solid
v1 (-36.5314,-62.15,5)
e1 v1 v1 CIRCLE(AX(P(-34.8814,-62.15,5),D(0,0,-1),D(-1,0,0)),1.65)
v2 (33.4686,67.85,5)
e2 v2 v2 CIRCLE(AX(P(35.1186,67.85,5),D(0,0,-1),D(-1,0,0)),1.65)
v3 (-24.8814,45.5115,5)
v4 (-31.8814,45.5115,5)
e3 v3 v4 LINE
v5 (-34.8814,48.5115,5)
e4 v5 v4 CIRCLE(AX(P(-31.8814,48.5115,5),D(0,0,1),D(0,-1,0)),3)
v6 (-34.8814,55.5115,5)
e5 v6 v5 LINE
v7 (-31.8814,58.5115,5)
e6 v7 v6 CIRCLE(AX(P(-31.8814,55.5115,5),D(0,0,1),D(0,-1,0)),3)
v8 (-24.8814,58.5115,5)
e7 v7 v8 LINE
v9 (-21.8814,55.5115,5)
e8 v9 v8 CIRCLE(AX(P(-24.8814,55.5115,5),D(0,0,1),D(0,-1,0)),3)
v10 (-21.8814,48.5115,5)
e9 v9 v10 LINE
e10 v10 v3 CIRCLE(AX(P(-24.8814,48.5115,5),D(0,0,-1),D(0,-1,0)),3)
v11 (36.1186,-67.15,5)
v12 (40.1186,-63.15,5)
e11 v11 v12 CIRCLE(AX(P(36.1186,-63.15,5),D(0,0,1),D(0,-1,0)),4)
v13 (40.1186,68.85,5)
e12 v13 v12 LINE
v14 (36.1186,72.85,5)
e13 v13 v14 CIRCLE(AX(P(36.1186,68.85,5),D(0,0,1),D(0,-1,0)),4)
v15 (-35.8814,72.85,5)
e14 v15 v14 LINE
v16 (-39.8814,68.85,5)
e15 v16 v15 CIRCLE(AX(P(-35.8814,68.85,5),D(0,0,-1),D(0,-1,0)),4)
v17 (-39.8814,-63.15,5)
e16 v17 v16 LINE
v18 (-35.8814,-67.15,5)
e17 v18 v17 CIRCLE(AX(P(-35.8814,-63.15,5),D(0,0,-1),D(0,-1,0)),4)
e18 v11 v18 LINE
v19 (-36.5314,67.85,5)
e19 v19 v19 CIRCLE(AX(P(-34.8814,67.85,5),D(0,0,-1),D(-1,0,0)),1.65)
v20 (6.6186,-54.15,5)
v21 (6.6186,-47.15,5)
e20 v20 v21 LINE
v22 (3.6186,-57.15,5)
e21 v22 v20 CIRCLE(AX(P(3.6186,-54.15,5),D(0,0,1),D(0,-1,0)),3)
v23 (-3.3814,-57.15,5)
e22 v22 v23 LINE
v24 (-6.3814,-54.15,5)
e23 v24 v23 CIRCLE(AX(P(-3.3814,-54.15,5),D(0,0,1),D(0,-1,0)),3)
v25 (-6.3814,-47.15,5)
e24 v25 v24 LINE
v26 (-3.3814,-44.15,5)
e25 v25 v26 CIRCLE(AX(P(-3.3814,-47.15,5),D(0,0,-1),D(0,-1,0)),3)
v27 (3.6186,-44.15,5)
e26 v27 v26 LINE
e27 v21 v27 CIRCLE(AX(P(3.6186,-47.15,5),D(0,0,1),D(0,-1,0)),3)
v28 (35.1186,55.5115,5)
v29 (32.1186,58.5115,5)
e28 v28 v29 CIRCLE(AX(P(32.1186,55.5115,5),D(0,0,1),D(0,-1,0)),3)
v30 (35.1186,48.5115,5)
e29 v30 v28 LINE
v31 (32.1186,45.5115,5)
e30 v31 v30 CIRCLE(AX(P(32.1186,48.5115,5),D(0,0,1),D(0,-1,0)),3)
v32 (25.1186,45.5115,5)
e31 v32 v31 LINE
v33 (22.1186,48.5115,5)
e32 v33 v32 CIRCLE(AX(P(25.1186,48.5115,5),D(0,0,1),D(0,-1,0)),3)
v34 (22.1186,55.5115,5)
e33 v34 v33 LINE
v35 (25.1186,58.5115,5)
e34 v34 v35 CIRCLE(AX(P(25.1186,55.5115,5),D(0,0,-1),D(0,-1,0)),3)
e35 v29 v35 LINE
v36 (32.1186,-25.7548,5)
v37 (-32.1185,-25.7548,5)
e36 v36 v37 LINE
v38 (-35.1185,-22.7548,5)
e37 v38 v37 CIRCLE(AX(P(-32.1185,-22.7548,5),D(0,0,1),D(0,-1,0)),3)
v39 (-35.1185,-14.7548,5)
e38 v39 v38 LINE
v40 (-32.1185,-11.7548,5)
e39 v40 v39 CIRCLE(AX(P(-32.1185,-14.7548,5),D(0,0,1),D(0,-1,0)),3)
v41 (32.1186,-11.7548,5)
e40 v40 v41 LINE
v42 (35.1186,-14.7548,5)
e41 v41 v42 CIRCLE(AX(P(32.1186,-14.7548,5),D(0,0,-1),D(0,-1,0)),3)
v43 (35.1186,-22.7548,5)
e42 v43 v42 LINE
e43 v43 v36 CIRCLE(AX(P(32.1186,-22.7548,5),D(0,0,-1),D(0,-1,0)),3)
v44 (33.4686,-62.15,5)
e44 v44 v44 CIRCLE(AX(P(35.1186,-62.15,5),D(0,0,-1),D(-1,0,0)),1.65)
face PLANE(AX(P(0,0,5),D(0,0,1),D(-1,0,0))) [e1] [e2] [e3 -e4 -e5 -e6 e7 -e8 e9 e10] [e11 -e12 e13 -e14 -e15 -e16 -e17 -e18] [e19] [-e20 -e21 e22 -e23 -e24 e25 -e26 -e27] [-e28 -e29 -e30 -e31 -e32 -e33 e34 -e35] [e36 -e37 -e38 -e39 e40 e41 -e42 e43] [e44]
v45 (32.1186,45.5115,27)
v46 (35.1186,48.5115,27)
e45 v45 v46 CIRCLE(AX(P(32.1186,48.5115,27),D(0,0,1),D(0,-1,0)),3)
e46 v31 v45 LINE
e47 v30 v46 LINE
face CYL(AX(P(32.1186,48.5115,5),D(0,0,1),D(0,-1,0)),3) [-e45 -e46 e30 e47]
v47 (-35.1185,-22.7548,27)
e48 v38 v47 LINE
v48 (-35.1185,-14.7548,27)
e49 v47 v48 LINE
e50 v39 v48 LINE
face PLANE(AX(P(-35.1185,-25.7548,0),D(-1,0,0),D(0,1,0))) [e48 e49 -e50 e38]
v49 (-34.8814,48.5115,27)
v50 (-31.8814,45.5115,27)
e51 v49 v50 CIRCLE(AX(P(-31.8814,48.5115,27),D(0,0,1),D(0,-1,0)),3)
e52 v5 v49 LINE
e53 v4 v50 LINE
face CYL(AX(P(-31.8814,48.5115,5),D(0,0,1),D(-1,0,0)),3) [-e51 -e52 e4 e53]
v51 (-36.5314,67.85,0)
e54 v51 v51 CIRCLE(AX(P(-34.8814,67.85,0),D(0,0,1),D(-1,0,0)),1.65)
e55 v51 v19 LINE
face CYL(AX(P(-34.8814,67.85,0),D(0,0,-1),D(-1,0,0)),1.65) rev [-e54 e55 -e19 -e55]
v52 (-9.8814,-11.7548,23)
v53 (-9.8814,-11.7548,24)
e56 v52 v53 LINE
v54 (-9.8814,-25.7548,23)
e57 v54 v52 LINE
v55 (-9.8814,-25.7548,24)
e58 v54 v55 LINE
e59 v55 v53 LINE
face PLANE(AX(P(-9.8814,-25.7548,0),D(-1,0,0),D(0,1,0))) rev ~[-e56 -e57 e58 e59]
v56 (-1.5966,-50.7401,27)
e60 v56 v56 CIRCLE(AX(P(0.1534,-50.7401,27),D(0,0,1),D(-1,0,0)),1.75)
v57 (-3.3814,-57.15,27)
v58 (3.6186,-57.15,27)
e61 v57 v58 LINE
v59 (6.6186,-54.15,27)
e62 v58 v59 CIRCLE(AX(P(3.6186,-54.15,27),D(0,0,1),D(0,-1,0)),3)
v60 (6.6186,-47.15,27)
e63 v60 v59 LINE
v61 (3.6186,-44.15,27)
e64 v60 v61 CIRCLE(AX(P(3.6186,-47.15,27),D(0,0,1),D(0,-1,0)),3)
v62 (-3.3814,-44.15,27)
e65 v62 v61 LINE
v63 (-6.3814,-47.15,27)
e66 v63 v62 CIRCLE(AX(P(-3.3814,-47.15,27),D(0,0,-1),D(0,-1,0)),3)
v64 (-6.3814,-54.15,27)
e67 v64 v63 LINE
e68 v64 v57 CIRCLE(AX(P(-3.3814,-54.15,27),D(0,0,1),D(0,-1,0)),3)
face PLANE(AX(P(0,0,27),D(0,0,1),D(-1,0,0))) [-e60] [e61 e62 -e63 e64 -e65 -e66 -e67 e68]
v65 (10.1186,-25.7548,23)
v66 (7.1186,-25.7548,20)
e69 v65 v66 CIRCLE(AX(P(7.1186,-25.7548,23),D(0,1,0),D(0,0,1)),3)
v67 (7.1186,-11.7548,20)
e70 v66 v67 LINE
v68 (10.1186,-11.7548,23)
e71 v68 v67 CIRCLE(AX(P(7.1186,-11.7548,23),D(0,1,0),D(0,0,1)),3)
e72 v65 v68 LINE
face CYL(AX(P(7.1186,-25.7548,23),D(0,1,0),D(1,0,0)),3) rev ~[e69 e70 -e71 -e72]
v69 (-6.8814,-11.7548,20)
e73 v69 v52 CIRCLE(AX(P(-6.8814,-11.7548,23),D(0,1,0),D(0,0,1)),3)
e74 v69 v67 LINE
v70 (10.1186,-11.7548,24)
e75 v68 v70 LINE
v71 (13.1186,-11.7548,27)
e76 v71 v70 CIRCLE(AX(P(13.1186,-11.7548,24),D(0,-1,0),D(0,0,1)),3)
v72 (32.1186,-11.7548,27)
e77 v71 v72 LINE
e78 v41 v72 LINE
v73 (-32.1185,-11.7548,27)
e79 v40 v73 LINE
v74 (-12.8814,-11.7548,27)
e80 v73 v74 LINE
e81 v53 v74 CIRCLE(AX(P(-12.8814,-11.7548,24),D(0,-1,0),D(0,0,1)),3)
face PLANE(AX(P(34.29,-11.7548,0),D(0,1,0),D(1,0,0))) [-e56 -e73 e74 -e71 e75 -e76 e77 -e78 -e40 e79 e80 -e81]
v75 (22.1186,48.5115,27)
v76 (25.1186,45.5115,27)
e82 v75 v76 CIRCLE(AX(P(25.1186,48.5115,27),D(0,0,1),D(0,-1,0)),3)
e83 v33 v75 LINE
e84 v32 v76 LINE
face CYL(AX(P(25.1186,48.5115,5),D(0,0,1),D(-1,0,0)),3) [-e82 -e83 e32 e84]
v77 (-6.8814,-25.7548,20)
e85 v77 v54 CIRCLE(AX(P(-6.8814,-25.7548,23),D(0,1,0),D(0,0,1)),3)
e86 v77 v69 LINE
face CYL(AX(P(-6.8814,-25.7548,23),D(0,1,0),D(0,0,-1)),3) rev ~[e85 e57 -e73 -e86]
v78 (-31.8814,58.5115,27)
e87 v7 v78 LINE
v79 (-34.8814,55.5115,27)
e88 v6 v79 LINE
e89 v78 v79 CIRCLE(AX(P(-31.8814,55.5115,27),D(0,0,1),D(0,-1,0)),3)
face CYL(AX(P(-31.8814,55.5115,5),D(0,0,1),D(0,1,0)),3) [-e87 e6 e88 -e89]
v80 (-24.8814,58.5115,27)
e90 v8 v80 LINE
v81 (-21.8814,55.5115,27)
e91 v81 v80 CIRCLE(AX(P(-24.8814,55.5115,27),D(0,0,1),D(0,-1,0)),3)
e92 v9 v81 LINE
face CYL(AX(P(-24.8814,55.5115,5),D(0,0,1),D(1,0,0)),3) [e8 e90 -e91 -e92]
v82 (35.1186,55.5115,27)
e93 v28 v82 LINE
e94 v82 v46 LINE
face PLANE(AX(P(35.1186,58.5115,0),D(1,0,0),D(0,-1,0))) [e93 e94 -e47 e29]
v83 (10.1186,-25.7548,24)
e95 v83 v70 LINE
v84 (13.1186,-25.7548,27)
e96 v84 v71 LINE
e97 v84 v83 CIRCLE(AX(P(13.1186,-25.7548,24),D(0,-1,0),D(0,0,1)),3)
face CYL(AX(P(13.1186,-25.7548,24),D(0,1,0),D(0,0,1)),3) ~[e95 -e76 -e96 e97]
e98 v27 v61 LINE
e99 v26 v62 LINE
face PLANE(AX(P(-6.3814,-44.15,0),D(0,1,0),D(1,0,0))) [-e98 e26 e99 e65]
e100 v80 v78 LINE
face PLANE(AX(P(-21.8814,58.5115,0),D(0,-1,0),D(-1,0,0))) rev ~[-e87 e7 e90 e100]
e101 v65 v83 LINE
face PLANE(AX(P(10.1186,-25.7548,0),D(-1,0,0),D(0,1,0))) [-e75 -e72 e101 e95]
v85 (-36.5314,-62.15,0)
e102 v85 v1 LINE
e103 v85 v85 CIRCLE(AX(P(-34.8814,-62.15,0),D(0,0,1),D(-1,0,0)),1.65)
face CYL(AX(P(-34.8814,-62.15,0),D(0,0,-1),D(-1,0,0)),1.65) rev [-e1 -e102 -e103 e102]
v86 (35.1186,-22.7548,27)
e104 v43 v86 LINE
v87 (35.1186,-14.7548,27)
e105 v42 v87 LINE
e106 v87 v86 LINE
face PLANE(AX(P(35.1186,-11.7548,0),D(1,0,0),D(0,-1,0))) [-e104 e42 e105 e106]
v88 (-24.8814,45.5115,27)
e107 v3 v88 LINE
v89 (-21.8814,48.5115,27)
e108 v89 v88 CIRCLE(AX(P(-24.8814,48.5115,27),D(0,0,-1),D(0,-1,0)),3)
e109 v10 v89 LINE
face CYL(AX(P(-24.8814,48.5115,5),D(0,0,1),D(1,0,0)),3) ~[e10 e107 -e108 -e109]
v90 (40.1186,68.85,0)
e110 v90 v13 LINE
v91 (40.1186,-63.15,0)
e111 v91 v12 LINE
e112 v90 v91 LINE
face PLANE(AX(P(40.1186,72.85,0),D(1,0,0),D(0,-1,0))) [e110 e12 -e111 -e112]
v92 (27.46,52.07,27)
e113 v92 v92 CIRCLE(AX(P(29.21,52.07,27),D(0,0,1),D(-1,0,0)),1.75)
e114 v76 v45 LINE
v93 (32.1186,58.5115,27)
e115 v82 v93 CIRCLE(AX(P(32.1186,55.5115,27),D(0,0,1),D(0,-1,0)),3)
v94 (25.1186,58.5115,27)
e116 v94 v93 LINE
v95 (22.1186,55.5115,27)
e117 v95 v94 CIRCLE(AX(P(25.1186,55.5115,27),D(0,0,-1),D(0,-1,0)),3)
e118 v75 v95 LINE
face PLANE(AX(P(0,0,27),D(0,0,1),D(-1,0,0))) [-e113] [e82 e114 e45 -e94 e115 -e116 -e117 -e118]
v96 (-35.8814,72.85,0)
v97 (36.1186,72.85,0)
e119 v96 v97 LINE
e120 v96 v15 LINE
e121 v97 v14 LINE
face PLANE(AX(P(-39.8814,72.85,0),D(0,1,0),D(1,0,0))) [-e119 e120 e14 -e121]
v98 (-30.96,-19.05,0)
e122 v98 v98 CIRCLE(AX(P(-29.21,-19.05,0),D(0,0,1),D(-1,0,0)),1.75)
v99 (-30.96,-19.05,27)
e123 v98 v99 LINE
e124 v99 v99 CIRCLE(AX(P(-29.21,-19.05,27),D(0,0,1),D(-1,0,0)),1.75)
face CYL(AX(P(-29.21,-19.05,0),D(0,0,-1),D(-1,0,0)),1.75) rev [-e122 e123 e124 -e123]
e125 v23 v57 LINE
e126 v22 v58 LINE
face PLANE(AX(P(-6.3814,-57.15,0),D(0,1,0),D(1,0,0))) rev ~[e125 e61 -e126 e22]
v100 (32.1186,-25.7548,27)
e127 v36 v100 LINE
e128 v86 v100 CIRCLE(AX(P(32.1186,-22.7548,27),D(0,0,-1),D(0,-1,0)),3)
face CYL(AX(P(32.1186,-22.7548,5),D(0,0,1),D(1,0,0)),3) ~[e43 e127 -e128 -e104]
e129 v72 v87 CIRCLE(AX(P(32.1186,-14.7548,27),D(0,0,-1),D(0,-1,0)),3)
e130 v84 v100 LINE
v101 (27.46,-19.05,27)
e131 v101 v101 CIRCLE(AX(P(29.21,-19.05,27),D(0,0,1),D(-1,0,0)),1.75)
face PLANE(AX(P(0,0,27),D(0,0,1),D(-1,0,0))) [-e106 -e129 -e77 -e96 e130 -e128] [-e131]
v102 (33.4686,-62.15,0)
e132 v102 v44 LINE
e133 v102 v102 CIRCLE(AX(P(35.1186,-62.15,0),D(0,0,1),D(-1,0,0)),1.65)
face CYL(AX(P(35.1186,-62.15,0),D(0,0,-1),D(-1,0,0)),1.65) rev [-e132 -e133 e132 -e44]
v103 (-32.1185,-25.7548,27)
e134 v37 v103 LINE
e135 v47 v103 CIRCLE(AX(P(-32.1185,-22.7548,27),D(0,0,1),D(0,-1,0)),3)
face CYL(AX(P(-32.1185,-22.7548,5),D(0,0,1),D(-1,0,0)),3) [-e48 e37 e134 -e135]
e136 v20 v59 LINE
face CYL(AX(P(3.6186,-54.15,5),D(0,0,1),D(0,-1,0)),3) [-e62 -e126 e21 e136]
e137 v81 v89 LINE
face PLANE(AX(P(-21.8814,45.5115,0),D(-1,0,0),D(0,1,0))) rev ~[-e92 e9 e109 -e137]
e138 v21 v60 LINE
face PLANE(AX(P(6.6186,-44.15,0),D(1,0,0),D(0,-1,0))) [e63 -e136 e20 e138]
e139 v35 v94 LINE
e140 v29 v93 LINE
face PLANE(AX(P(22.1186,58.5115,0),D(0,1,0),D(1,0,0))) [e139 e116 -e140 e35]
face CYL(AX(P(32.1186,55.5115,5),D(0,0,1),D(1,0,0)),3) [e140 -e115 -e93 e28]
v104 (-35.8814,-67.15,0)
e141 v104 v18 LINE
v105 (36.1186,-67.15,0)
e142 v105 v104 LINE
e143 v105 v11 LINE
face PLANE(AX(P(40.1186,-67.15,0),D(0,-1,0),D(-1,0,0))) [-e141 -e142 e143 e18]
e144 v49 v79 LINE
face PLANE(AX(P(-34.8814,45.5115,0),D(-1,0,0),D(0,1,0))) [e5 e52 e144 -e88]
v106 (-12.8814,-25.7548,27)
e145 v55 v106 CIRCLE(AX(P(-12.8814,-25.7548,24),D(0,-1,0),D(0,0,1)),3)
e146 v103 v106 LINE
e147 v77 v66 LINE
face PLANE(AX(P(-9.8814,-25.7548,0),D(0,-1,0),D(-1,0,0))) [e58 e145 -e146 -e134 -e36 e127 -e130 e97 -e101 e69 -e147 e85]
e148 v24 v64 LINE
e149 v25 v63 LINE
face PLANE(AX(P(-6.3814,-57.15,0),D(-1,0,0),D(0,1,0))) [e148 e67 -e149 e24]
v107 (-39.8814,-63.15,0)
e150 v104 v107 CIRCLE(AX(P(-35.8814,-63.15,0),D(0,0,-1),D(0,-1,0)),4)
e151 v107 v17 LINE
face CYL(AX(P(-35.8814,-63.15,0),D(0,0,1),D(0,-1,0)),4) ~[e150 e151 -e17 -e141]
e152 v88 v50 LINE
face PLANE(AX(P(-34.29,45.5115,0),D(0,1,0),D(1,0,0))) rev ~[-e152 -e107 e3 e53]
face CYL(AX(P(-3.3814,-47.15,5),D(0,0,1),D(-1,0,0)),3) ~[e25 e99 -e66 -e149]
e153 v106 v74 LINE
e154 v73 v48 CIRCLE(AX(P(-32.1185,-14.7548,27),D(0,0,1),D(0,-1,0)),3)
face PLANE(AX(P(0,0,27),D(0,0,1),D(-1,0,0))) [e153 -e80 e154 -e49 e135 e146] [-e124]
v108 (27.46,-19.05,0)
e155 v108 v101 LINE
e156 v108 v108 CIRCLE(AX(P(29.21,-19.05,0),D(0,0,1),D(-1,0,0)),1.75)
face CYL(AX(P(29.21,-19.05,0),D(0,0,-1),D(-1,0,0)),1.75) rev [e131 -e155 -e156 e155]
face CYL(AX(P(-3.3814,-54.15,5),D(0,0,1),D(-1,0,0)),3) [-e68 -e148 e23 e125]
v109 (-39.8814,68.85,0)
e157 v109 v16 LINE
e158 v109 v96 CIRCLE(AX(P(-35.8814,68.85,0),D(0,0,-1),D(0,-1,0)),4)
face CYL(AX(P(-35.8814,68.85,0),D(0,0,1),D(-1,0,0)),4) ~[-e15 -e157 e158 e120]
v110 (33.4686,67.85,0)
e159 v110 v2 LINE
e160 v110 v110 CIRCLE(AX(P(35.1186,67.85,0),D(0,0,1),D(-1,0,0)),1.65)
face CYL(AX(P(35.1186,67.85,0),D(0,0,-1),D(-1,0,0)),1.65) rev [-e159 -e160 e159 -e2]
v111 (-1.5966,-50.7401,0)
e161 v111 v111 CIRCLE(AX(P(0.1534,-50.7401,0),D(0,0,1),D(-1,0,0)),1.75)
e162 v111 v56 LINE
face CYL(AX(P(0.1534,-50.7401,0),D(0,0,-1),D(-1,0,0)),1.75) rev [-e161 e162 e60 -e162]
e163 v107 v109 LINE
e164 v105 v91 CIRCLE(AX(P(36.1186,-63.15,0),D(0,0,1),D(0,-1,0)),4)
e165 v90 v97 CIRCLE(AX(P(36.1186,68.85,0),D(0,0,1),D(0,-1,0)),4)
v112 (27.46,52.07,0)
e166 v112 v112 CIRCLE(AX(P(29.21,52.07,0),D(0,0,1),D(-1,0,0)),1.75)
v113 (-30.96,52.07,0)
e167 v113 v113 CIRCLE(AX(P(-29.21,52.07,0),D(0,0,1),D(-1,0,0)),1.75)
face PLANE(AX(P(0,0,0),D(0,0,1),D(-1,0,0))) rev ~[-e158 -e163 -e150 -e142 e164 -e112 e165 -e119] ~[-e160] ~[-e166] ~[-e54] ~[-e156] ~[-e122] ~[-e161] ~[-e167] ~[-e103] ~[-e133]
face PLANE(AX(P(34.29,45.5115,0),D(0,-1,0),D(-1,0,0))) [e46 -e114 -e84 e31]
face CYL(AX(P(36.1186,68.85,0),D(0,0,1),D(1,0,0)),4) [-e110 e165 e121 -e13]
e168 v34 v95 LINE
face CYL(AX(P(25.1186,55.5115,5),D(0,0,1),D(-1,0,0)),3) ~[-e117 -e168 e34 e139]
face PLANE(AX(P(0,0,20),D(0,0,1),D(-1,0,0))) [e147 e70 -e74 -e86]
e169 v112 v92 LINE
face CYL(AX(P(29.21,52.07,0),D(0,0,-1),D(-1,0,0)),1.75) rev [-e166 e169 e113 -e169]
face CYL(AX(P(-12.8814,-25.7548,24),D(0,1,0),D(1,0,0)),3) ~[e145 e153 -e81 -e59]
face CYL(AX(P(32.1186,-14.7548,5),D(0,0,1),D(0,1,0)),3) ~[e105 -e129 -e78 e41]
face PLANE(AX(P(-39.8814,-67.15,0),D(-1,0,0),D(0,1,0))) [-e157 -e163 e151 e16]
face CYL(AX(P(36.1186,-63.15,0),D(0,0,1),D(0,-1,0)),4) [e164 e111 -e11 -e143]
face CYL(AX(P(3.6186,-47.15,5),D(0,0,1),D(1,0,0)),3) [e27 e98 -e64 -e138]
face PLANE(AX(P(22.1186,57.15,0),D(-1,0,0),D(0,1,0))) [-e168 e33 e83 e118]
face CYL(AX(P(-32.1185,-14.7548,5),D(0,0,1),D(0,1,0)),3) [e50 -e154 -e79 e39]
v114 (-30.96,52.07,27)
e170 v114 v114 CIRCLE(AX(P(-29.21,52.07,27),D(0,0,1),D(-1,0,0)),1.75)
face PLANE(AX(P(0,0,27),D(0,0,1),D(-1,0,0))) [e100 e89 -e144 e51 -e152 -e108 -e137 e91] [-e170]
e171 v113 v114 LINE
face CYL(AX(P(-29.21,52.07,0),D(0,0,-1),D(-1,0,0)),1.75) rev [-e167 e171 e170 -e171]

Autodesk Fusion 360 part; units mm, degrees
sketch "Sketch2" plane through (0, 0, 0) normal (0, 0, 1) x (-1, 0, 0)
  line L0 (29.6528, -57.1307) -> (30.0921, -57.0728)
  line L1 (30.0921, -57.0728) -> (30.5248, -56.9769)
  line L2 (30.5248, -56.9769) -> (30.9475, -56.8436)
  line L3 (30.9475, -56.8436) -> (31.3569, -56.674)
  line L4 (31.3569, -56.674) -> (31.75, -56.4694)
  line L5 (31.75, -56.4694) -> (32.1238, -56.2313)
  line L6 (32.1238, -56.2313) -> (32.4754, -55.9615)
  line L7 (32.4754, -55.9615) -> (32.8021, -55.6621)
  line L8 (32.8021, -55.6621) -> (33.1015, -55.3354)
  line L9 (33.1015, -55.3354) -> (33.3713, -54.9838)
  line L10 (33.3713, -54.9838) -> (33.6094, -54.61)
  line L11 (33.6094, -54.61) -> (33.814, -54.2169)
  line L12 (33.814, -54.2169) -> (33.9836, -53.8075)
  line L13 (33.9836, -53.8075) -> (34.1169, -53.3848)
  line L14 (34.1169, -53.3848) -> (34.2128, -52.9521)
  line L15 (34.2128, -52.9521) -> (34.2707, -52.5128)
  line L16 (34.2707, -52.5128) -> (34.29, -52.07)
  line L17 (34.29, -52.07) -> (34.29, 52.07)
  line L18 (34.29, 52.07) -> (34.2707, 52.5128)
  line L19 (34.2707, 52.5128) -> (34.2128, 52.9521)
  line L20 (34.2128, 52.9521) -> (34.1169, 53.3848)
  line L21 (34.1169, 53.3848) -> (33.9836, 53.8075)
  line L22 (33.9836, 53.8075) -> (33.814, 54.2169)
  line L23 (33.814, 54.2169) -> (33.6094, 54.61)
  line L24 (33.6094, 54.61) -> (33.3713, 54.9838)
  line L25 (33.3713, 54.9838) -> (33.1015, 55.3354)
  line L26 (33.1015, 55.3354) -> (32.8021, 55.6621)
  line L27 (32.8021, 55.6621) -> (32.4754, 55.9615)
  line L28 (32.4754, 55.9615) -> (32.1238, 56.2313)
  line L29 (32.1238, 56.2313) -> (31.75, 56.4694)
  line L30 (31.75, 56.4694) -> (31.3569, 56.674)
  line L31 (31.3569, 56.674) -> (30.9475, 56.8436)
  line L32 (30.9475, 56.8436) -> (30.5248, 56.9769)
  line L33 (30.5248, 56.9769) -> (30.0921, 57.0728)
  line L34 (30.0921, 57.0728) -> (29.6528, 57.1307)
  line L35 (29.6528, 57.1307) -> (29.21, 57.15)
  line L36 (29.21, 57.15) -> (-29.21, 57.15)
  line L37 (-29.21, 57.15) -> (-29.6528, 57.1307)
  line L38 (-29.6528, 57.1307) -> (-30.0921, 57.0728)
  line L39 (-30.0921, 57.0728) -> (-30.5248, 56.9769)
  line L40 (-30.5248, 56.9769) -> (-30.9475, 56.8436)
  line L41 (-30.9475, 56.8436) -> (-31.3569, 56.674)
  line L42 (-31.3569, 56.674) -> (-31.75, 56.4694)
  line L43 (-31.75, 56.4694) -> (-32.1238, 56.2313)
  line L44 (-32.1238, 56.2313) -> (-32.4754, 55.9615)
  line L45 (-32.4754, 55.9615) -> (-32.8021, 55.6621)
  line L46 (-32.8021, 55.6621) -> (-33.1015, 55.3354)
  line L47 (-33.1015, 55.3354) -> (-33.3713, 54.9838)
  line L48 (-33.3713, 54.9838) -> (-33.6094, 54.61)
  line L49 (-33.6094, 54.61) -> (-33.814, 54.2169)
  line L50 (-33.814, 54.2169) -> (-33.9836, 53.8075)
  line L51 (-33.9836, 53.8075) -> (-34.1169, 53.3848)
  line L52 (-34.1169, 53.3848) -> (-34.2128, 52.9521)
  line L53 (-34.2128, 52.9521) -> (-34.2707, 52.5128)
  line L54 (-34.2707, 52.5128) -> (-34.29, 52.07)
  line L55 (-34.29, 52.07) -> (-34.29, -52.07)
  line L56 (-34.29, -52.07) -> (-34.2707, -52.5128)
  line L57 (-34.2707, -52.5128) -> (-34.2128, -52.9521)
  line L58 (-34.2128, -52.9521) -> (-34.1169, -53.3848)
  line L59 (-34.1169, -53.3848) -> (-33.9836, -53.8075)
  line L60 (-33.9836, -53.8075) -> (-33.814, -54.2169)
  line L61 (-33.814, -54.2169) -> (-33.6094, -54.61)
  line L62 (-33.6094, -54.61) -> (-33.3713, -54.9838)
  line L63 (-33.3713, -54.9838) -> (-33.1015, -55.3354)
  line L64 (-33.1015, -55.3354) -> (-32.8021, -55.6621)
  line L65 (-32.8021, -55.6621) -> (-32.4754, -55.9615)
  line L66 (-32.4754, -55.9615) -> (-32.1238, -56.2313)
  line L67 (-32.1238, -56.2313) -> (-31.75, -56.4694)
  line L68 (-31.75, -56.4694) -> (-31.3569, -56.674)
  line L69 (-31.3569, -56.674) -> (-30.9475, -56.8436)
  line L70 (-30.9475, -56.8436) -> (-30.5248, -56.9769)
  line L71 (-30.5248, -56.9769) -> (-30.0921, -57.0728)
  line L72 (-30.0921, -57.0728) -> (-29.6528, -57.1307)
  line L73 (-29.6528, -57.1307) -> (-29.21, -57.15)
  line L74 (-29.21, -57.15) -> (29.21, -57.15)
  line L75 (29.21, -57.15) -> (29.6528, -57.1307)
  circle A0 centre (26.67, 50.025) radius 0.7
  circle A1 centre (20.32, 50.025) radius 0.7
  circle A2 centre (26.67, 33.795) radius 0.7
  circle A3 centre (20.32, 33.795) radius 0.7
  circle A4 centre (13.97, 50.025) radius 0.7
  circle A5 centre (13.97, 33.795) radius 0.7
  circle A6 centre (5.13, 26.87) radius 1.15
  circle A7 centre (29.21, 19.05) radius 1.75
  circle A8 centre (5.13, 22.17) radius 1.15
  circle A9 centre (5.13, 17.47) radius 1.15
  circle A10 centre (-0.1534, 50.7401) radius 1.75
  circle A11 centre (-14.15, 50.025) radius 0.7
  circle A12 centre (-0.17, 26.87) radius 1.15
  circle A13 centre (-5.47, 26.87) radius 1.15
  circle A14 centre (-14.15, 33.795) radius 0.7
  circle A15 centre (-20.5, 50.025) radius 0.7
  circle A16 centre (-26.85, 50.025) radius 0.7
  circle A17 centre (-20.5, 33.795) radius 0.7
  circle A18 centre (-26.85, 33.795) radius 0.7
  circle A19 centre (-0.17, 22.17) radius 1.15
  circle A20 centre (-5.47, 22.17) radius 1.15
  circle A21 centre (-0.17, 17.47) radius 1.15
  circle A22 centre (-5.47, 17.47) radius 1.15
  circle A23 centre (-0.17, 3.81) radius 0.45
  circle A24 centre (-0.17, 1.27) radius 0.45
  circle A25 centre (-29.21, 19.05) radius 1.75
  circle A26 centre (31.724, -24.1849) radius 0.45
  circle A27 centre (29.184, -24.1849) radius 0.45
  circle A28 centre (26.67, -36.505) radius 0.55
  circle A29 centre (24.13, -36.505) radius 0.55
  circle A30 centre (21.59, -36.505) radius 0.55
  circle A31 centre (29.21, -52.07) radius 1.75
  circle A32 centre (21.59, -44.45) radius 0.5
  circle A33 centre (19.05, -44.45) radius 0.5
  circle A34 centre (11.43, -44.45) radius 0.5
  circle A35 centre (8.89, -44.45) radius 0.5
  circle A36 centre (-13.105, -19.09) radius 0.4
  circle A37 centre (-17.985, -19.09) radius 0.4
  circle A38 centre (-0.205, -41.91) radius 0.5
  circle A39 centre (-2.745, -41.91) radius 0.5
  circle A40 centre (-5.285, -41.91) radius 0.5
  circle A41 centre (-29.21, -52.07) radius 1.75
  circle A42 centre (29.21, 19.05) radius 1.75
  circle A43 centre (-0.1534, 50.7401) radius 1.75
  circle A44 centre (-29.21, 19.05) radius 1.75
  circle A45 centre (29.21, -52.07) radius 1.75
  circle A46 centre (-29.21, -52.07) radius 1.75
  line L76 (-40.1186, 67.15) -> (39.8814, 67.15)
  line L77 (39.8814, 67.15) -> (39.8814, -72.85)
  line L78 (39.8814, -72.85) -> (-40.1186, -72.85)
  line L79 (-40.1186, -72.85) -> (-40.1186, 67.15)
  line L80 (-35.1186, -67.85) -> (-35.1186, 62.15)
  line L81 (-35.1186, 62.15) -> (34.8814, 62.15)
  line L82 (34.8814, 62.15) -> (34.8814, -67.85)
  line L83 (34.8814, -67.85) -> (-35.1186, -67.85)
  circle A47 centre (-35.1186, 62.15) radius 1.65
  circle A48 centre (34.8814, 62.15) radius 1.65
  circle A49 centre (34.8814, -67.85) radius 1.65
  circle A50 centre (-35.1186, -67.85) radius 1.65
  line L84 (-35.1186, 25.7548) -> (35.1185, 25.7548)
  line L85 (35.1185, 25.7548) -> (35.1185, 11.7548)
  line L86 (35.1185, 11.7548) -> (-35.1186, 11.7548)
  line L87 (-35.1186, 11.7548) -> (-35.1186, 25.7548)
  line L88 (-0.1186, 67.15) -> (-0.1186, -72.85) construction
  line L89 (-10.1186, 25.7548) -> (-10.1186, 11.7548)
  line L90 (9.8814, 25.7548) -> (9.8814, 11.7548)
  line L91 (-35.1186, -45.5115) -> (-22.1186, -45.5115)
  line L92 (-22.1186, -45.5115) -> (-22.1186, -58.5115)
  line L93 (-22.1186, -58.5115) -> (-35.1186, -58.5115)
  line L94 (-35.1186, -58.5115) -> (-35.1186, -45.5115)
  line L95 (21.8814, -45.5115) -> (21.8814, -58.5115)
  line L96 (34.8814, -45.5115) -> (21.8814, -45.5115)
  line L97 (21.8814, -58.5115) -> (34.8814, -58.5115)
  line L98 (-6.6186, 57.15) -> (6.3814, 57.15)
  line L99 (6.3814, 57.15) -> (6.3814, 44.15)
  line L100 (6.3814, 44.15) -> (-6.6186, 44.15)
  line L101 (-6.6186, 44.15) -> (-6.6186, 57.15)
  dimension "d1" = 80
  dimension "d2" = 140
  dimension "d4" = 5
  dimension "d6" = 3.3
  dimension "d7" = 3.3
  dimension "d8" = 3.3
  dimension "d9" = 3.3
  dimension "d11" = 14
  dimension "d12" = 10
  dimension "d13" = 13
  dimension "d14" = 13
  dimension "d15" = 13
  dimension "d16" = 13
  dimension "d35" = 10
extrude "Extrude1" add sketch "Sketch2" along normal blind 5 contours L0 L1 L2 L3 L4 L5 L6 L7 L8 L9 L10 L11 L12 L13 L14 L15 L16 L17 L74 L75 L95 L96 | L0 L1 L2 L3 L4 L5 L6 L7 L8 L9 L10 L11 L12 L13 L14 L15 L16 L17 L74 L75 L82 L95 L96 L97 | L74 L80 L82 L83 A49 A50 L92 L93 L95 L97 | L17 L55 L74 L86 L91 L92 L95 L96 | L55 L56 L57 L58 L59 L60 L61 L62 L63 L64 L65 L66 L67 L68 L69 L70 L71 L72 L73 L74 L80 L91 L92 L93 L94 | L55 L56 L57 L58 L59 L60 L61 L62 L63 L64 L65 L66 L67 L68 L69 L70 L71 L72 L73 L74 L91 L92 | L17 L82 L86 L96 | L55 L80 L86 L91 | L17 L84 L86 L90 | L17 L82 L84 L86 | L55 L80 L84 L86 L87 | L55 L84 L86 L89 | L17 L18 L19 L20 L21 L22 L23 L24 L25 L26 L27 L28 L29 L30 L31 L32 L33 L34 L35 L36 L37 L38 L39 L40 L41 L42 L43 L44 L45 L46 L47 L48 L49 L50 L51 L52 L53 L54 L55 A6 A12 A13 L84 L99 L100 L101 | L17 L18 L19 L20 L21 L22 L23 L24 L25 L26 L27 L28 L29 L30 L31 L32 L33 L34 L35 L36 L37 L38 L39 L40 L41 L42 L43 L44 L45 L46 L47 L48 L49 L50 L51 L52 L53 L54 L55 L80 L81 L82 A47 A48 L84 L98 | L82 L84 L85 L86 | A6 A12 A13 L84 L86 L89 L90 | A6 L84 | A6 L84 | A13 L84 | A13 L84 | A12 L84 | A12 L84 | L36 L98 L99 L100 L101 | A0 | A1 | A2 | A3 | A4 | A5 | A8 | A9 | A11 | A14 | A15 | A16 | A17 | A18 | A19 | A20 | A21 | A22 | A23 | A24 | A26 | A27 | A28 | A29 | A30 | A32 | A33 | A34 | A35 | A36 | A37 | A38 | A39 | A40 | L76 L77 L78 L79
extrude "Extrude2" add sketch "Sketch2" along normal blind 27 contours L0 L1 L2 L3 L4 L5 L6 L7 L8 L9 L10 L11 L12 L13 L14 L15 L16 L17 L74 L75 L95 L96 | L0 L1 L2 L3 L4 L5 L6 L7 L8 L9 L10 L11 L12 L13 L14 L15 L16 L17 L74 L75 L82 L95 L96 L97 | L55 L56 L57 L58 L59 L60 L61 L62 L63 L64 L65 L66 L67 L68 L69 L70 L71 L72 L73 L74 L80 L91 L92 L93 L94 | L55 L56 L57 L58 L59 L60 L61 L62 L63 L64 L65 L66 L67 L68 L69 L70 L71 L72 L73 L74 L91 L92 | L17 L84 L86 L90 | L17 L82 L84 L86 | L55 L80 L84 L86 L87 | L55 L84 L86 L89 | L82 L84 L85 L86 | L36 L98 L99 L100 L101
fillet "Fillet1" radius 3 2 edges at (-34.8814, 58.5115, 16) (35.1186, 58.5115, 16)
fillet "Fillet1" radius 3 6 edges at (35.1186, 45.5115, 16) (22.1186, 45.5115, 16) (22.1186, 58.5115, 16) (-21.8814, 45.5115, 16) (-21.8814, 58.5115, 16) (-34.8814, 45.5115, 16)
fillet "Fillet1" radius 3 4 edges at (6.6186, -44.15, 16) (6.6186, -57.15, 16) (-6.3814, -44.15, 16) (-6.3814, -57.15, 16)
fillet "Fillet2" radius 4 4 edges at (40.1186, 72.85, 2.5) (-39.8814, 72.85, 2.5) (40.1186, -67.15, 2.5) (-39.8814, -67.15, 2.5)
extrude "Extrude3" add sketch "Sketch2" along normal blind 20 contours A6 A12 A13 L84 L86 L89 L90 | A6 L84 | A13 L84 | A12 L84 | A8 | A9 | A19 | A20 | A21 | A22 picked at (5.0829, 25.7461) picked at (-5.5171, 25.7461) picked at (-0.2171, 25.7461)
fillet "Fillet3" radius 3 4 edges at (-9.8814, -18.7548, 20) (-9.8814, -18.7548, 27) (10.1186, -18.7548, 27) (10.1186, -18.7548, 20)
fillet "Fillet4" radius 3 4 edges at (35.1186, -25.7548, 16) (35.1186, -11.7548, 16) (-35.1185, -25.7548, 16) (-35.1185, -11.7548, 16)
